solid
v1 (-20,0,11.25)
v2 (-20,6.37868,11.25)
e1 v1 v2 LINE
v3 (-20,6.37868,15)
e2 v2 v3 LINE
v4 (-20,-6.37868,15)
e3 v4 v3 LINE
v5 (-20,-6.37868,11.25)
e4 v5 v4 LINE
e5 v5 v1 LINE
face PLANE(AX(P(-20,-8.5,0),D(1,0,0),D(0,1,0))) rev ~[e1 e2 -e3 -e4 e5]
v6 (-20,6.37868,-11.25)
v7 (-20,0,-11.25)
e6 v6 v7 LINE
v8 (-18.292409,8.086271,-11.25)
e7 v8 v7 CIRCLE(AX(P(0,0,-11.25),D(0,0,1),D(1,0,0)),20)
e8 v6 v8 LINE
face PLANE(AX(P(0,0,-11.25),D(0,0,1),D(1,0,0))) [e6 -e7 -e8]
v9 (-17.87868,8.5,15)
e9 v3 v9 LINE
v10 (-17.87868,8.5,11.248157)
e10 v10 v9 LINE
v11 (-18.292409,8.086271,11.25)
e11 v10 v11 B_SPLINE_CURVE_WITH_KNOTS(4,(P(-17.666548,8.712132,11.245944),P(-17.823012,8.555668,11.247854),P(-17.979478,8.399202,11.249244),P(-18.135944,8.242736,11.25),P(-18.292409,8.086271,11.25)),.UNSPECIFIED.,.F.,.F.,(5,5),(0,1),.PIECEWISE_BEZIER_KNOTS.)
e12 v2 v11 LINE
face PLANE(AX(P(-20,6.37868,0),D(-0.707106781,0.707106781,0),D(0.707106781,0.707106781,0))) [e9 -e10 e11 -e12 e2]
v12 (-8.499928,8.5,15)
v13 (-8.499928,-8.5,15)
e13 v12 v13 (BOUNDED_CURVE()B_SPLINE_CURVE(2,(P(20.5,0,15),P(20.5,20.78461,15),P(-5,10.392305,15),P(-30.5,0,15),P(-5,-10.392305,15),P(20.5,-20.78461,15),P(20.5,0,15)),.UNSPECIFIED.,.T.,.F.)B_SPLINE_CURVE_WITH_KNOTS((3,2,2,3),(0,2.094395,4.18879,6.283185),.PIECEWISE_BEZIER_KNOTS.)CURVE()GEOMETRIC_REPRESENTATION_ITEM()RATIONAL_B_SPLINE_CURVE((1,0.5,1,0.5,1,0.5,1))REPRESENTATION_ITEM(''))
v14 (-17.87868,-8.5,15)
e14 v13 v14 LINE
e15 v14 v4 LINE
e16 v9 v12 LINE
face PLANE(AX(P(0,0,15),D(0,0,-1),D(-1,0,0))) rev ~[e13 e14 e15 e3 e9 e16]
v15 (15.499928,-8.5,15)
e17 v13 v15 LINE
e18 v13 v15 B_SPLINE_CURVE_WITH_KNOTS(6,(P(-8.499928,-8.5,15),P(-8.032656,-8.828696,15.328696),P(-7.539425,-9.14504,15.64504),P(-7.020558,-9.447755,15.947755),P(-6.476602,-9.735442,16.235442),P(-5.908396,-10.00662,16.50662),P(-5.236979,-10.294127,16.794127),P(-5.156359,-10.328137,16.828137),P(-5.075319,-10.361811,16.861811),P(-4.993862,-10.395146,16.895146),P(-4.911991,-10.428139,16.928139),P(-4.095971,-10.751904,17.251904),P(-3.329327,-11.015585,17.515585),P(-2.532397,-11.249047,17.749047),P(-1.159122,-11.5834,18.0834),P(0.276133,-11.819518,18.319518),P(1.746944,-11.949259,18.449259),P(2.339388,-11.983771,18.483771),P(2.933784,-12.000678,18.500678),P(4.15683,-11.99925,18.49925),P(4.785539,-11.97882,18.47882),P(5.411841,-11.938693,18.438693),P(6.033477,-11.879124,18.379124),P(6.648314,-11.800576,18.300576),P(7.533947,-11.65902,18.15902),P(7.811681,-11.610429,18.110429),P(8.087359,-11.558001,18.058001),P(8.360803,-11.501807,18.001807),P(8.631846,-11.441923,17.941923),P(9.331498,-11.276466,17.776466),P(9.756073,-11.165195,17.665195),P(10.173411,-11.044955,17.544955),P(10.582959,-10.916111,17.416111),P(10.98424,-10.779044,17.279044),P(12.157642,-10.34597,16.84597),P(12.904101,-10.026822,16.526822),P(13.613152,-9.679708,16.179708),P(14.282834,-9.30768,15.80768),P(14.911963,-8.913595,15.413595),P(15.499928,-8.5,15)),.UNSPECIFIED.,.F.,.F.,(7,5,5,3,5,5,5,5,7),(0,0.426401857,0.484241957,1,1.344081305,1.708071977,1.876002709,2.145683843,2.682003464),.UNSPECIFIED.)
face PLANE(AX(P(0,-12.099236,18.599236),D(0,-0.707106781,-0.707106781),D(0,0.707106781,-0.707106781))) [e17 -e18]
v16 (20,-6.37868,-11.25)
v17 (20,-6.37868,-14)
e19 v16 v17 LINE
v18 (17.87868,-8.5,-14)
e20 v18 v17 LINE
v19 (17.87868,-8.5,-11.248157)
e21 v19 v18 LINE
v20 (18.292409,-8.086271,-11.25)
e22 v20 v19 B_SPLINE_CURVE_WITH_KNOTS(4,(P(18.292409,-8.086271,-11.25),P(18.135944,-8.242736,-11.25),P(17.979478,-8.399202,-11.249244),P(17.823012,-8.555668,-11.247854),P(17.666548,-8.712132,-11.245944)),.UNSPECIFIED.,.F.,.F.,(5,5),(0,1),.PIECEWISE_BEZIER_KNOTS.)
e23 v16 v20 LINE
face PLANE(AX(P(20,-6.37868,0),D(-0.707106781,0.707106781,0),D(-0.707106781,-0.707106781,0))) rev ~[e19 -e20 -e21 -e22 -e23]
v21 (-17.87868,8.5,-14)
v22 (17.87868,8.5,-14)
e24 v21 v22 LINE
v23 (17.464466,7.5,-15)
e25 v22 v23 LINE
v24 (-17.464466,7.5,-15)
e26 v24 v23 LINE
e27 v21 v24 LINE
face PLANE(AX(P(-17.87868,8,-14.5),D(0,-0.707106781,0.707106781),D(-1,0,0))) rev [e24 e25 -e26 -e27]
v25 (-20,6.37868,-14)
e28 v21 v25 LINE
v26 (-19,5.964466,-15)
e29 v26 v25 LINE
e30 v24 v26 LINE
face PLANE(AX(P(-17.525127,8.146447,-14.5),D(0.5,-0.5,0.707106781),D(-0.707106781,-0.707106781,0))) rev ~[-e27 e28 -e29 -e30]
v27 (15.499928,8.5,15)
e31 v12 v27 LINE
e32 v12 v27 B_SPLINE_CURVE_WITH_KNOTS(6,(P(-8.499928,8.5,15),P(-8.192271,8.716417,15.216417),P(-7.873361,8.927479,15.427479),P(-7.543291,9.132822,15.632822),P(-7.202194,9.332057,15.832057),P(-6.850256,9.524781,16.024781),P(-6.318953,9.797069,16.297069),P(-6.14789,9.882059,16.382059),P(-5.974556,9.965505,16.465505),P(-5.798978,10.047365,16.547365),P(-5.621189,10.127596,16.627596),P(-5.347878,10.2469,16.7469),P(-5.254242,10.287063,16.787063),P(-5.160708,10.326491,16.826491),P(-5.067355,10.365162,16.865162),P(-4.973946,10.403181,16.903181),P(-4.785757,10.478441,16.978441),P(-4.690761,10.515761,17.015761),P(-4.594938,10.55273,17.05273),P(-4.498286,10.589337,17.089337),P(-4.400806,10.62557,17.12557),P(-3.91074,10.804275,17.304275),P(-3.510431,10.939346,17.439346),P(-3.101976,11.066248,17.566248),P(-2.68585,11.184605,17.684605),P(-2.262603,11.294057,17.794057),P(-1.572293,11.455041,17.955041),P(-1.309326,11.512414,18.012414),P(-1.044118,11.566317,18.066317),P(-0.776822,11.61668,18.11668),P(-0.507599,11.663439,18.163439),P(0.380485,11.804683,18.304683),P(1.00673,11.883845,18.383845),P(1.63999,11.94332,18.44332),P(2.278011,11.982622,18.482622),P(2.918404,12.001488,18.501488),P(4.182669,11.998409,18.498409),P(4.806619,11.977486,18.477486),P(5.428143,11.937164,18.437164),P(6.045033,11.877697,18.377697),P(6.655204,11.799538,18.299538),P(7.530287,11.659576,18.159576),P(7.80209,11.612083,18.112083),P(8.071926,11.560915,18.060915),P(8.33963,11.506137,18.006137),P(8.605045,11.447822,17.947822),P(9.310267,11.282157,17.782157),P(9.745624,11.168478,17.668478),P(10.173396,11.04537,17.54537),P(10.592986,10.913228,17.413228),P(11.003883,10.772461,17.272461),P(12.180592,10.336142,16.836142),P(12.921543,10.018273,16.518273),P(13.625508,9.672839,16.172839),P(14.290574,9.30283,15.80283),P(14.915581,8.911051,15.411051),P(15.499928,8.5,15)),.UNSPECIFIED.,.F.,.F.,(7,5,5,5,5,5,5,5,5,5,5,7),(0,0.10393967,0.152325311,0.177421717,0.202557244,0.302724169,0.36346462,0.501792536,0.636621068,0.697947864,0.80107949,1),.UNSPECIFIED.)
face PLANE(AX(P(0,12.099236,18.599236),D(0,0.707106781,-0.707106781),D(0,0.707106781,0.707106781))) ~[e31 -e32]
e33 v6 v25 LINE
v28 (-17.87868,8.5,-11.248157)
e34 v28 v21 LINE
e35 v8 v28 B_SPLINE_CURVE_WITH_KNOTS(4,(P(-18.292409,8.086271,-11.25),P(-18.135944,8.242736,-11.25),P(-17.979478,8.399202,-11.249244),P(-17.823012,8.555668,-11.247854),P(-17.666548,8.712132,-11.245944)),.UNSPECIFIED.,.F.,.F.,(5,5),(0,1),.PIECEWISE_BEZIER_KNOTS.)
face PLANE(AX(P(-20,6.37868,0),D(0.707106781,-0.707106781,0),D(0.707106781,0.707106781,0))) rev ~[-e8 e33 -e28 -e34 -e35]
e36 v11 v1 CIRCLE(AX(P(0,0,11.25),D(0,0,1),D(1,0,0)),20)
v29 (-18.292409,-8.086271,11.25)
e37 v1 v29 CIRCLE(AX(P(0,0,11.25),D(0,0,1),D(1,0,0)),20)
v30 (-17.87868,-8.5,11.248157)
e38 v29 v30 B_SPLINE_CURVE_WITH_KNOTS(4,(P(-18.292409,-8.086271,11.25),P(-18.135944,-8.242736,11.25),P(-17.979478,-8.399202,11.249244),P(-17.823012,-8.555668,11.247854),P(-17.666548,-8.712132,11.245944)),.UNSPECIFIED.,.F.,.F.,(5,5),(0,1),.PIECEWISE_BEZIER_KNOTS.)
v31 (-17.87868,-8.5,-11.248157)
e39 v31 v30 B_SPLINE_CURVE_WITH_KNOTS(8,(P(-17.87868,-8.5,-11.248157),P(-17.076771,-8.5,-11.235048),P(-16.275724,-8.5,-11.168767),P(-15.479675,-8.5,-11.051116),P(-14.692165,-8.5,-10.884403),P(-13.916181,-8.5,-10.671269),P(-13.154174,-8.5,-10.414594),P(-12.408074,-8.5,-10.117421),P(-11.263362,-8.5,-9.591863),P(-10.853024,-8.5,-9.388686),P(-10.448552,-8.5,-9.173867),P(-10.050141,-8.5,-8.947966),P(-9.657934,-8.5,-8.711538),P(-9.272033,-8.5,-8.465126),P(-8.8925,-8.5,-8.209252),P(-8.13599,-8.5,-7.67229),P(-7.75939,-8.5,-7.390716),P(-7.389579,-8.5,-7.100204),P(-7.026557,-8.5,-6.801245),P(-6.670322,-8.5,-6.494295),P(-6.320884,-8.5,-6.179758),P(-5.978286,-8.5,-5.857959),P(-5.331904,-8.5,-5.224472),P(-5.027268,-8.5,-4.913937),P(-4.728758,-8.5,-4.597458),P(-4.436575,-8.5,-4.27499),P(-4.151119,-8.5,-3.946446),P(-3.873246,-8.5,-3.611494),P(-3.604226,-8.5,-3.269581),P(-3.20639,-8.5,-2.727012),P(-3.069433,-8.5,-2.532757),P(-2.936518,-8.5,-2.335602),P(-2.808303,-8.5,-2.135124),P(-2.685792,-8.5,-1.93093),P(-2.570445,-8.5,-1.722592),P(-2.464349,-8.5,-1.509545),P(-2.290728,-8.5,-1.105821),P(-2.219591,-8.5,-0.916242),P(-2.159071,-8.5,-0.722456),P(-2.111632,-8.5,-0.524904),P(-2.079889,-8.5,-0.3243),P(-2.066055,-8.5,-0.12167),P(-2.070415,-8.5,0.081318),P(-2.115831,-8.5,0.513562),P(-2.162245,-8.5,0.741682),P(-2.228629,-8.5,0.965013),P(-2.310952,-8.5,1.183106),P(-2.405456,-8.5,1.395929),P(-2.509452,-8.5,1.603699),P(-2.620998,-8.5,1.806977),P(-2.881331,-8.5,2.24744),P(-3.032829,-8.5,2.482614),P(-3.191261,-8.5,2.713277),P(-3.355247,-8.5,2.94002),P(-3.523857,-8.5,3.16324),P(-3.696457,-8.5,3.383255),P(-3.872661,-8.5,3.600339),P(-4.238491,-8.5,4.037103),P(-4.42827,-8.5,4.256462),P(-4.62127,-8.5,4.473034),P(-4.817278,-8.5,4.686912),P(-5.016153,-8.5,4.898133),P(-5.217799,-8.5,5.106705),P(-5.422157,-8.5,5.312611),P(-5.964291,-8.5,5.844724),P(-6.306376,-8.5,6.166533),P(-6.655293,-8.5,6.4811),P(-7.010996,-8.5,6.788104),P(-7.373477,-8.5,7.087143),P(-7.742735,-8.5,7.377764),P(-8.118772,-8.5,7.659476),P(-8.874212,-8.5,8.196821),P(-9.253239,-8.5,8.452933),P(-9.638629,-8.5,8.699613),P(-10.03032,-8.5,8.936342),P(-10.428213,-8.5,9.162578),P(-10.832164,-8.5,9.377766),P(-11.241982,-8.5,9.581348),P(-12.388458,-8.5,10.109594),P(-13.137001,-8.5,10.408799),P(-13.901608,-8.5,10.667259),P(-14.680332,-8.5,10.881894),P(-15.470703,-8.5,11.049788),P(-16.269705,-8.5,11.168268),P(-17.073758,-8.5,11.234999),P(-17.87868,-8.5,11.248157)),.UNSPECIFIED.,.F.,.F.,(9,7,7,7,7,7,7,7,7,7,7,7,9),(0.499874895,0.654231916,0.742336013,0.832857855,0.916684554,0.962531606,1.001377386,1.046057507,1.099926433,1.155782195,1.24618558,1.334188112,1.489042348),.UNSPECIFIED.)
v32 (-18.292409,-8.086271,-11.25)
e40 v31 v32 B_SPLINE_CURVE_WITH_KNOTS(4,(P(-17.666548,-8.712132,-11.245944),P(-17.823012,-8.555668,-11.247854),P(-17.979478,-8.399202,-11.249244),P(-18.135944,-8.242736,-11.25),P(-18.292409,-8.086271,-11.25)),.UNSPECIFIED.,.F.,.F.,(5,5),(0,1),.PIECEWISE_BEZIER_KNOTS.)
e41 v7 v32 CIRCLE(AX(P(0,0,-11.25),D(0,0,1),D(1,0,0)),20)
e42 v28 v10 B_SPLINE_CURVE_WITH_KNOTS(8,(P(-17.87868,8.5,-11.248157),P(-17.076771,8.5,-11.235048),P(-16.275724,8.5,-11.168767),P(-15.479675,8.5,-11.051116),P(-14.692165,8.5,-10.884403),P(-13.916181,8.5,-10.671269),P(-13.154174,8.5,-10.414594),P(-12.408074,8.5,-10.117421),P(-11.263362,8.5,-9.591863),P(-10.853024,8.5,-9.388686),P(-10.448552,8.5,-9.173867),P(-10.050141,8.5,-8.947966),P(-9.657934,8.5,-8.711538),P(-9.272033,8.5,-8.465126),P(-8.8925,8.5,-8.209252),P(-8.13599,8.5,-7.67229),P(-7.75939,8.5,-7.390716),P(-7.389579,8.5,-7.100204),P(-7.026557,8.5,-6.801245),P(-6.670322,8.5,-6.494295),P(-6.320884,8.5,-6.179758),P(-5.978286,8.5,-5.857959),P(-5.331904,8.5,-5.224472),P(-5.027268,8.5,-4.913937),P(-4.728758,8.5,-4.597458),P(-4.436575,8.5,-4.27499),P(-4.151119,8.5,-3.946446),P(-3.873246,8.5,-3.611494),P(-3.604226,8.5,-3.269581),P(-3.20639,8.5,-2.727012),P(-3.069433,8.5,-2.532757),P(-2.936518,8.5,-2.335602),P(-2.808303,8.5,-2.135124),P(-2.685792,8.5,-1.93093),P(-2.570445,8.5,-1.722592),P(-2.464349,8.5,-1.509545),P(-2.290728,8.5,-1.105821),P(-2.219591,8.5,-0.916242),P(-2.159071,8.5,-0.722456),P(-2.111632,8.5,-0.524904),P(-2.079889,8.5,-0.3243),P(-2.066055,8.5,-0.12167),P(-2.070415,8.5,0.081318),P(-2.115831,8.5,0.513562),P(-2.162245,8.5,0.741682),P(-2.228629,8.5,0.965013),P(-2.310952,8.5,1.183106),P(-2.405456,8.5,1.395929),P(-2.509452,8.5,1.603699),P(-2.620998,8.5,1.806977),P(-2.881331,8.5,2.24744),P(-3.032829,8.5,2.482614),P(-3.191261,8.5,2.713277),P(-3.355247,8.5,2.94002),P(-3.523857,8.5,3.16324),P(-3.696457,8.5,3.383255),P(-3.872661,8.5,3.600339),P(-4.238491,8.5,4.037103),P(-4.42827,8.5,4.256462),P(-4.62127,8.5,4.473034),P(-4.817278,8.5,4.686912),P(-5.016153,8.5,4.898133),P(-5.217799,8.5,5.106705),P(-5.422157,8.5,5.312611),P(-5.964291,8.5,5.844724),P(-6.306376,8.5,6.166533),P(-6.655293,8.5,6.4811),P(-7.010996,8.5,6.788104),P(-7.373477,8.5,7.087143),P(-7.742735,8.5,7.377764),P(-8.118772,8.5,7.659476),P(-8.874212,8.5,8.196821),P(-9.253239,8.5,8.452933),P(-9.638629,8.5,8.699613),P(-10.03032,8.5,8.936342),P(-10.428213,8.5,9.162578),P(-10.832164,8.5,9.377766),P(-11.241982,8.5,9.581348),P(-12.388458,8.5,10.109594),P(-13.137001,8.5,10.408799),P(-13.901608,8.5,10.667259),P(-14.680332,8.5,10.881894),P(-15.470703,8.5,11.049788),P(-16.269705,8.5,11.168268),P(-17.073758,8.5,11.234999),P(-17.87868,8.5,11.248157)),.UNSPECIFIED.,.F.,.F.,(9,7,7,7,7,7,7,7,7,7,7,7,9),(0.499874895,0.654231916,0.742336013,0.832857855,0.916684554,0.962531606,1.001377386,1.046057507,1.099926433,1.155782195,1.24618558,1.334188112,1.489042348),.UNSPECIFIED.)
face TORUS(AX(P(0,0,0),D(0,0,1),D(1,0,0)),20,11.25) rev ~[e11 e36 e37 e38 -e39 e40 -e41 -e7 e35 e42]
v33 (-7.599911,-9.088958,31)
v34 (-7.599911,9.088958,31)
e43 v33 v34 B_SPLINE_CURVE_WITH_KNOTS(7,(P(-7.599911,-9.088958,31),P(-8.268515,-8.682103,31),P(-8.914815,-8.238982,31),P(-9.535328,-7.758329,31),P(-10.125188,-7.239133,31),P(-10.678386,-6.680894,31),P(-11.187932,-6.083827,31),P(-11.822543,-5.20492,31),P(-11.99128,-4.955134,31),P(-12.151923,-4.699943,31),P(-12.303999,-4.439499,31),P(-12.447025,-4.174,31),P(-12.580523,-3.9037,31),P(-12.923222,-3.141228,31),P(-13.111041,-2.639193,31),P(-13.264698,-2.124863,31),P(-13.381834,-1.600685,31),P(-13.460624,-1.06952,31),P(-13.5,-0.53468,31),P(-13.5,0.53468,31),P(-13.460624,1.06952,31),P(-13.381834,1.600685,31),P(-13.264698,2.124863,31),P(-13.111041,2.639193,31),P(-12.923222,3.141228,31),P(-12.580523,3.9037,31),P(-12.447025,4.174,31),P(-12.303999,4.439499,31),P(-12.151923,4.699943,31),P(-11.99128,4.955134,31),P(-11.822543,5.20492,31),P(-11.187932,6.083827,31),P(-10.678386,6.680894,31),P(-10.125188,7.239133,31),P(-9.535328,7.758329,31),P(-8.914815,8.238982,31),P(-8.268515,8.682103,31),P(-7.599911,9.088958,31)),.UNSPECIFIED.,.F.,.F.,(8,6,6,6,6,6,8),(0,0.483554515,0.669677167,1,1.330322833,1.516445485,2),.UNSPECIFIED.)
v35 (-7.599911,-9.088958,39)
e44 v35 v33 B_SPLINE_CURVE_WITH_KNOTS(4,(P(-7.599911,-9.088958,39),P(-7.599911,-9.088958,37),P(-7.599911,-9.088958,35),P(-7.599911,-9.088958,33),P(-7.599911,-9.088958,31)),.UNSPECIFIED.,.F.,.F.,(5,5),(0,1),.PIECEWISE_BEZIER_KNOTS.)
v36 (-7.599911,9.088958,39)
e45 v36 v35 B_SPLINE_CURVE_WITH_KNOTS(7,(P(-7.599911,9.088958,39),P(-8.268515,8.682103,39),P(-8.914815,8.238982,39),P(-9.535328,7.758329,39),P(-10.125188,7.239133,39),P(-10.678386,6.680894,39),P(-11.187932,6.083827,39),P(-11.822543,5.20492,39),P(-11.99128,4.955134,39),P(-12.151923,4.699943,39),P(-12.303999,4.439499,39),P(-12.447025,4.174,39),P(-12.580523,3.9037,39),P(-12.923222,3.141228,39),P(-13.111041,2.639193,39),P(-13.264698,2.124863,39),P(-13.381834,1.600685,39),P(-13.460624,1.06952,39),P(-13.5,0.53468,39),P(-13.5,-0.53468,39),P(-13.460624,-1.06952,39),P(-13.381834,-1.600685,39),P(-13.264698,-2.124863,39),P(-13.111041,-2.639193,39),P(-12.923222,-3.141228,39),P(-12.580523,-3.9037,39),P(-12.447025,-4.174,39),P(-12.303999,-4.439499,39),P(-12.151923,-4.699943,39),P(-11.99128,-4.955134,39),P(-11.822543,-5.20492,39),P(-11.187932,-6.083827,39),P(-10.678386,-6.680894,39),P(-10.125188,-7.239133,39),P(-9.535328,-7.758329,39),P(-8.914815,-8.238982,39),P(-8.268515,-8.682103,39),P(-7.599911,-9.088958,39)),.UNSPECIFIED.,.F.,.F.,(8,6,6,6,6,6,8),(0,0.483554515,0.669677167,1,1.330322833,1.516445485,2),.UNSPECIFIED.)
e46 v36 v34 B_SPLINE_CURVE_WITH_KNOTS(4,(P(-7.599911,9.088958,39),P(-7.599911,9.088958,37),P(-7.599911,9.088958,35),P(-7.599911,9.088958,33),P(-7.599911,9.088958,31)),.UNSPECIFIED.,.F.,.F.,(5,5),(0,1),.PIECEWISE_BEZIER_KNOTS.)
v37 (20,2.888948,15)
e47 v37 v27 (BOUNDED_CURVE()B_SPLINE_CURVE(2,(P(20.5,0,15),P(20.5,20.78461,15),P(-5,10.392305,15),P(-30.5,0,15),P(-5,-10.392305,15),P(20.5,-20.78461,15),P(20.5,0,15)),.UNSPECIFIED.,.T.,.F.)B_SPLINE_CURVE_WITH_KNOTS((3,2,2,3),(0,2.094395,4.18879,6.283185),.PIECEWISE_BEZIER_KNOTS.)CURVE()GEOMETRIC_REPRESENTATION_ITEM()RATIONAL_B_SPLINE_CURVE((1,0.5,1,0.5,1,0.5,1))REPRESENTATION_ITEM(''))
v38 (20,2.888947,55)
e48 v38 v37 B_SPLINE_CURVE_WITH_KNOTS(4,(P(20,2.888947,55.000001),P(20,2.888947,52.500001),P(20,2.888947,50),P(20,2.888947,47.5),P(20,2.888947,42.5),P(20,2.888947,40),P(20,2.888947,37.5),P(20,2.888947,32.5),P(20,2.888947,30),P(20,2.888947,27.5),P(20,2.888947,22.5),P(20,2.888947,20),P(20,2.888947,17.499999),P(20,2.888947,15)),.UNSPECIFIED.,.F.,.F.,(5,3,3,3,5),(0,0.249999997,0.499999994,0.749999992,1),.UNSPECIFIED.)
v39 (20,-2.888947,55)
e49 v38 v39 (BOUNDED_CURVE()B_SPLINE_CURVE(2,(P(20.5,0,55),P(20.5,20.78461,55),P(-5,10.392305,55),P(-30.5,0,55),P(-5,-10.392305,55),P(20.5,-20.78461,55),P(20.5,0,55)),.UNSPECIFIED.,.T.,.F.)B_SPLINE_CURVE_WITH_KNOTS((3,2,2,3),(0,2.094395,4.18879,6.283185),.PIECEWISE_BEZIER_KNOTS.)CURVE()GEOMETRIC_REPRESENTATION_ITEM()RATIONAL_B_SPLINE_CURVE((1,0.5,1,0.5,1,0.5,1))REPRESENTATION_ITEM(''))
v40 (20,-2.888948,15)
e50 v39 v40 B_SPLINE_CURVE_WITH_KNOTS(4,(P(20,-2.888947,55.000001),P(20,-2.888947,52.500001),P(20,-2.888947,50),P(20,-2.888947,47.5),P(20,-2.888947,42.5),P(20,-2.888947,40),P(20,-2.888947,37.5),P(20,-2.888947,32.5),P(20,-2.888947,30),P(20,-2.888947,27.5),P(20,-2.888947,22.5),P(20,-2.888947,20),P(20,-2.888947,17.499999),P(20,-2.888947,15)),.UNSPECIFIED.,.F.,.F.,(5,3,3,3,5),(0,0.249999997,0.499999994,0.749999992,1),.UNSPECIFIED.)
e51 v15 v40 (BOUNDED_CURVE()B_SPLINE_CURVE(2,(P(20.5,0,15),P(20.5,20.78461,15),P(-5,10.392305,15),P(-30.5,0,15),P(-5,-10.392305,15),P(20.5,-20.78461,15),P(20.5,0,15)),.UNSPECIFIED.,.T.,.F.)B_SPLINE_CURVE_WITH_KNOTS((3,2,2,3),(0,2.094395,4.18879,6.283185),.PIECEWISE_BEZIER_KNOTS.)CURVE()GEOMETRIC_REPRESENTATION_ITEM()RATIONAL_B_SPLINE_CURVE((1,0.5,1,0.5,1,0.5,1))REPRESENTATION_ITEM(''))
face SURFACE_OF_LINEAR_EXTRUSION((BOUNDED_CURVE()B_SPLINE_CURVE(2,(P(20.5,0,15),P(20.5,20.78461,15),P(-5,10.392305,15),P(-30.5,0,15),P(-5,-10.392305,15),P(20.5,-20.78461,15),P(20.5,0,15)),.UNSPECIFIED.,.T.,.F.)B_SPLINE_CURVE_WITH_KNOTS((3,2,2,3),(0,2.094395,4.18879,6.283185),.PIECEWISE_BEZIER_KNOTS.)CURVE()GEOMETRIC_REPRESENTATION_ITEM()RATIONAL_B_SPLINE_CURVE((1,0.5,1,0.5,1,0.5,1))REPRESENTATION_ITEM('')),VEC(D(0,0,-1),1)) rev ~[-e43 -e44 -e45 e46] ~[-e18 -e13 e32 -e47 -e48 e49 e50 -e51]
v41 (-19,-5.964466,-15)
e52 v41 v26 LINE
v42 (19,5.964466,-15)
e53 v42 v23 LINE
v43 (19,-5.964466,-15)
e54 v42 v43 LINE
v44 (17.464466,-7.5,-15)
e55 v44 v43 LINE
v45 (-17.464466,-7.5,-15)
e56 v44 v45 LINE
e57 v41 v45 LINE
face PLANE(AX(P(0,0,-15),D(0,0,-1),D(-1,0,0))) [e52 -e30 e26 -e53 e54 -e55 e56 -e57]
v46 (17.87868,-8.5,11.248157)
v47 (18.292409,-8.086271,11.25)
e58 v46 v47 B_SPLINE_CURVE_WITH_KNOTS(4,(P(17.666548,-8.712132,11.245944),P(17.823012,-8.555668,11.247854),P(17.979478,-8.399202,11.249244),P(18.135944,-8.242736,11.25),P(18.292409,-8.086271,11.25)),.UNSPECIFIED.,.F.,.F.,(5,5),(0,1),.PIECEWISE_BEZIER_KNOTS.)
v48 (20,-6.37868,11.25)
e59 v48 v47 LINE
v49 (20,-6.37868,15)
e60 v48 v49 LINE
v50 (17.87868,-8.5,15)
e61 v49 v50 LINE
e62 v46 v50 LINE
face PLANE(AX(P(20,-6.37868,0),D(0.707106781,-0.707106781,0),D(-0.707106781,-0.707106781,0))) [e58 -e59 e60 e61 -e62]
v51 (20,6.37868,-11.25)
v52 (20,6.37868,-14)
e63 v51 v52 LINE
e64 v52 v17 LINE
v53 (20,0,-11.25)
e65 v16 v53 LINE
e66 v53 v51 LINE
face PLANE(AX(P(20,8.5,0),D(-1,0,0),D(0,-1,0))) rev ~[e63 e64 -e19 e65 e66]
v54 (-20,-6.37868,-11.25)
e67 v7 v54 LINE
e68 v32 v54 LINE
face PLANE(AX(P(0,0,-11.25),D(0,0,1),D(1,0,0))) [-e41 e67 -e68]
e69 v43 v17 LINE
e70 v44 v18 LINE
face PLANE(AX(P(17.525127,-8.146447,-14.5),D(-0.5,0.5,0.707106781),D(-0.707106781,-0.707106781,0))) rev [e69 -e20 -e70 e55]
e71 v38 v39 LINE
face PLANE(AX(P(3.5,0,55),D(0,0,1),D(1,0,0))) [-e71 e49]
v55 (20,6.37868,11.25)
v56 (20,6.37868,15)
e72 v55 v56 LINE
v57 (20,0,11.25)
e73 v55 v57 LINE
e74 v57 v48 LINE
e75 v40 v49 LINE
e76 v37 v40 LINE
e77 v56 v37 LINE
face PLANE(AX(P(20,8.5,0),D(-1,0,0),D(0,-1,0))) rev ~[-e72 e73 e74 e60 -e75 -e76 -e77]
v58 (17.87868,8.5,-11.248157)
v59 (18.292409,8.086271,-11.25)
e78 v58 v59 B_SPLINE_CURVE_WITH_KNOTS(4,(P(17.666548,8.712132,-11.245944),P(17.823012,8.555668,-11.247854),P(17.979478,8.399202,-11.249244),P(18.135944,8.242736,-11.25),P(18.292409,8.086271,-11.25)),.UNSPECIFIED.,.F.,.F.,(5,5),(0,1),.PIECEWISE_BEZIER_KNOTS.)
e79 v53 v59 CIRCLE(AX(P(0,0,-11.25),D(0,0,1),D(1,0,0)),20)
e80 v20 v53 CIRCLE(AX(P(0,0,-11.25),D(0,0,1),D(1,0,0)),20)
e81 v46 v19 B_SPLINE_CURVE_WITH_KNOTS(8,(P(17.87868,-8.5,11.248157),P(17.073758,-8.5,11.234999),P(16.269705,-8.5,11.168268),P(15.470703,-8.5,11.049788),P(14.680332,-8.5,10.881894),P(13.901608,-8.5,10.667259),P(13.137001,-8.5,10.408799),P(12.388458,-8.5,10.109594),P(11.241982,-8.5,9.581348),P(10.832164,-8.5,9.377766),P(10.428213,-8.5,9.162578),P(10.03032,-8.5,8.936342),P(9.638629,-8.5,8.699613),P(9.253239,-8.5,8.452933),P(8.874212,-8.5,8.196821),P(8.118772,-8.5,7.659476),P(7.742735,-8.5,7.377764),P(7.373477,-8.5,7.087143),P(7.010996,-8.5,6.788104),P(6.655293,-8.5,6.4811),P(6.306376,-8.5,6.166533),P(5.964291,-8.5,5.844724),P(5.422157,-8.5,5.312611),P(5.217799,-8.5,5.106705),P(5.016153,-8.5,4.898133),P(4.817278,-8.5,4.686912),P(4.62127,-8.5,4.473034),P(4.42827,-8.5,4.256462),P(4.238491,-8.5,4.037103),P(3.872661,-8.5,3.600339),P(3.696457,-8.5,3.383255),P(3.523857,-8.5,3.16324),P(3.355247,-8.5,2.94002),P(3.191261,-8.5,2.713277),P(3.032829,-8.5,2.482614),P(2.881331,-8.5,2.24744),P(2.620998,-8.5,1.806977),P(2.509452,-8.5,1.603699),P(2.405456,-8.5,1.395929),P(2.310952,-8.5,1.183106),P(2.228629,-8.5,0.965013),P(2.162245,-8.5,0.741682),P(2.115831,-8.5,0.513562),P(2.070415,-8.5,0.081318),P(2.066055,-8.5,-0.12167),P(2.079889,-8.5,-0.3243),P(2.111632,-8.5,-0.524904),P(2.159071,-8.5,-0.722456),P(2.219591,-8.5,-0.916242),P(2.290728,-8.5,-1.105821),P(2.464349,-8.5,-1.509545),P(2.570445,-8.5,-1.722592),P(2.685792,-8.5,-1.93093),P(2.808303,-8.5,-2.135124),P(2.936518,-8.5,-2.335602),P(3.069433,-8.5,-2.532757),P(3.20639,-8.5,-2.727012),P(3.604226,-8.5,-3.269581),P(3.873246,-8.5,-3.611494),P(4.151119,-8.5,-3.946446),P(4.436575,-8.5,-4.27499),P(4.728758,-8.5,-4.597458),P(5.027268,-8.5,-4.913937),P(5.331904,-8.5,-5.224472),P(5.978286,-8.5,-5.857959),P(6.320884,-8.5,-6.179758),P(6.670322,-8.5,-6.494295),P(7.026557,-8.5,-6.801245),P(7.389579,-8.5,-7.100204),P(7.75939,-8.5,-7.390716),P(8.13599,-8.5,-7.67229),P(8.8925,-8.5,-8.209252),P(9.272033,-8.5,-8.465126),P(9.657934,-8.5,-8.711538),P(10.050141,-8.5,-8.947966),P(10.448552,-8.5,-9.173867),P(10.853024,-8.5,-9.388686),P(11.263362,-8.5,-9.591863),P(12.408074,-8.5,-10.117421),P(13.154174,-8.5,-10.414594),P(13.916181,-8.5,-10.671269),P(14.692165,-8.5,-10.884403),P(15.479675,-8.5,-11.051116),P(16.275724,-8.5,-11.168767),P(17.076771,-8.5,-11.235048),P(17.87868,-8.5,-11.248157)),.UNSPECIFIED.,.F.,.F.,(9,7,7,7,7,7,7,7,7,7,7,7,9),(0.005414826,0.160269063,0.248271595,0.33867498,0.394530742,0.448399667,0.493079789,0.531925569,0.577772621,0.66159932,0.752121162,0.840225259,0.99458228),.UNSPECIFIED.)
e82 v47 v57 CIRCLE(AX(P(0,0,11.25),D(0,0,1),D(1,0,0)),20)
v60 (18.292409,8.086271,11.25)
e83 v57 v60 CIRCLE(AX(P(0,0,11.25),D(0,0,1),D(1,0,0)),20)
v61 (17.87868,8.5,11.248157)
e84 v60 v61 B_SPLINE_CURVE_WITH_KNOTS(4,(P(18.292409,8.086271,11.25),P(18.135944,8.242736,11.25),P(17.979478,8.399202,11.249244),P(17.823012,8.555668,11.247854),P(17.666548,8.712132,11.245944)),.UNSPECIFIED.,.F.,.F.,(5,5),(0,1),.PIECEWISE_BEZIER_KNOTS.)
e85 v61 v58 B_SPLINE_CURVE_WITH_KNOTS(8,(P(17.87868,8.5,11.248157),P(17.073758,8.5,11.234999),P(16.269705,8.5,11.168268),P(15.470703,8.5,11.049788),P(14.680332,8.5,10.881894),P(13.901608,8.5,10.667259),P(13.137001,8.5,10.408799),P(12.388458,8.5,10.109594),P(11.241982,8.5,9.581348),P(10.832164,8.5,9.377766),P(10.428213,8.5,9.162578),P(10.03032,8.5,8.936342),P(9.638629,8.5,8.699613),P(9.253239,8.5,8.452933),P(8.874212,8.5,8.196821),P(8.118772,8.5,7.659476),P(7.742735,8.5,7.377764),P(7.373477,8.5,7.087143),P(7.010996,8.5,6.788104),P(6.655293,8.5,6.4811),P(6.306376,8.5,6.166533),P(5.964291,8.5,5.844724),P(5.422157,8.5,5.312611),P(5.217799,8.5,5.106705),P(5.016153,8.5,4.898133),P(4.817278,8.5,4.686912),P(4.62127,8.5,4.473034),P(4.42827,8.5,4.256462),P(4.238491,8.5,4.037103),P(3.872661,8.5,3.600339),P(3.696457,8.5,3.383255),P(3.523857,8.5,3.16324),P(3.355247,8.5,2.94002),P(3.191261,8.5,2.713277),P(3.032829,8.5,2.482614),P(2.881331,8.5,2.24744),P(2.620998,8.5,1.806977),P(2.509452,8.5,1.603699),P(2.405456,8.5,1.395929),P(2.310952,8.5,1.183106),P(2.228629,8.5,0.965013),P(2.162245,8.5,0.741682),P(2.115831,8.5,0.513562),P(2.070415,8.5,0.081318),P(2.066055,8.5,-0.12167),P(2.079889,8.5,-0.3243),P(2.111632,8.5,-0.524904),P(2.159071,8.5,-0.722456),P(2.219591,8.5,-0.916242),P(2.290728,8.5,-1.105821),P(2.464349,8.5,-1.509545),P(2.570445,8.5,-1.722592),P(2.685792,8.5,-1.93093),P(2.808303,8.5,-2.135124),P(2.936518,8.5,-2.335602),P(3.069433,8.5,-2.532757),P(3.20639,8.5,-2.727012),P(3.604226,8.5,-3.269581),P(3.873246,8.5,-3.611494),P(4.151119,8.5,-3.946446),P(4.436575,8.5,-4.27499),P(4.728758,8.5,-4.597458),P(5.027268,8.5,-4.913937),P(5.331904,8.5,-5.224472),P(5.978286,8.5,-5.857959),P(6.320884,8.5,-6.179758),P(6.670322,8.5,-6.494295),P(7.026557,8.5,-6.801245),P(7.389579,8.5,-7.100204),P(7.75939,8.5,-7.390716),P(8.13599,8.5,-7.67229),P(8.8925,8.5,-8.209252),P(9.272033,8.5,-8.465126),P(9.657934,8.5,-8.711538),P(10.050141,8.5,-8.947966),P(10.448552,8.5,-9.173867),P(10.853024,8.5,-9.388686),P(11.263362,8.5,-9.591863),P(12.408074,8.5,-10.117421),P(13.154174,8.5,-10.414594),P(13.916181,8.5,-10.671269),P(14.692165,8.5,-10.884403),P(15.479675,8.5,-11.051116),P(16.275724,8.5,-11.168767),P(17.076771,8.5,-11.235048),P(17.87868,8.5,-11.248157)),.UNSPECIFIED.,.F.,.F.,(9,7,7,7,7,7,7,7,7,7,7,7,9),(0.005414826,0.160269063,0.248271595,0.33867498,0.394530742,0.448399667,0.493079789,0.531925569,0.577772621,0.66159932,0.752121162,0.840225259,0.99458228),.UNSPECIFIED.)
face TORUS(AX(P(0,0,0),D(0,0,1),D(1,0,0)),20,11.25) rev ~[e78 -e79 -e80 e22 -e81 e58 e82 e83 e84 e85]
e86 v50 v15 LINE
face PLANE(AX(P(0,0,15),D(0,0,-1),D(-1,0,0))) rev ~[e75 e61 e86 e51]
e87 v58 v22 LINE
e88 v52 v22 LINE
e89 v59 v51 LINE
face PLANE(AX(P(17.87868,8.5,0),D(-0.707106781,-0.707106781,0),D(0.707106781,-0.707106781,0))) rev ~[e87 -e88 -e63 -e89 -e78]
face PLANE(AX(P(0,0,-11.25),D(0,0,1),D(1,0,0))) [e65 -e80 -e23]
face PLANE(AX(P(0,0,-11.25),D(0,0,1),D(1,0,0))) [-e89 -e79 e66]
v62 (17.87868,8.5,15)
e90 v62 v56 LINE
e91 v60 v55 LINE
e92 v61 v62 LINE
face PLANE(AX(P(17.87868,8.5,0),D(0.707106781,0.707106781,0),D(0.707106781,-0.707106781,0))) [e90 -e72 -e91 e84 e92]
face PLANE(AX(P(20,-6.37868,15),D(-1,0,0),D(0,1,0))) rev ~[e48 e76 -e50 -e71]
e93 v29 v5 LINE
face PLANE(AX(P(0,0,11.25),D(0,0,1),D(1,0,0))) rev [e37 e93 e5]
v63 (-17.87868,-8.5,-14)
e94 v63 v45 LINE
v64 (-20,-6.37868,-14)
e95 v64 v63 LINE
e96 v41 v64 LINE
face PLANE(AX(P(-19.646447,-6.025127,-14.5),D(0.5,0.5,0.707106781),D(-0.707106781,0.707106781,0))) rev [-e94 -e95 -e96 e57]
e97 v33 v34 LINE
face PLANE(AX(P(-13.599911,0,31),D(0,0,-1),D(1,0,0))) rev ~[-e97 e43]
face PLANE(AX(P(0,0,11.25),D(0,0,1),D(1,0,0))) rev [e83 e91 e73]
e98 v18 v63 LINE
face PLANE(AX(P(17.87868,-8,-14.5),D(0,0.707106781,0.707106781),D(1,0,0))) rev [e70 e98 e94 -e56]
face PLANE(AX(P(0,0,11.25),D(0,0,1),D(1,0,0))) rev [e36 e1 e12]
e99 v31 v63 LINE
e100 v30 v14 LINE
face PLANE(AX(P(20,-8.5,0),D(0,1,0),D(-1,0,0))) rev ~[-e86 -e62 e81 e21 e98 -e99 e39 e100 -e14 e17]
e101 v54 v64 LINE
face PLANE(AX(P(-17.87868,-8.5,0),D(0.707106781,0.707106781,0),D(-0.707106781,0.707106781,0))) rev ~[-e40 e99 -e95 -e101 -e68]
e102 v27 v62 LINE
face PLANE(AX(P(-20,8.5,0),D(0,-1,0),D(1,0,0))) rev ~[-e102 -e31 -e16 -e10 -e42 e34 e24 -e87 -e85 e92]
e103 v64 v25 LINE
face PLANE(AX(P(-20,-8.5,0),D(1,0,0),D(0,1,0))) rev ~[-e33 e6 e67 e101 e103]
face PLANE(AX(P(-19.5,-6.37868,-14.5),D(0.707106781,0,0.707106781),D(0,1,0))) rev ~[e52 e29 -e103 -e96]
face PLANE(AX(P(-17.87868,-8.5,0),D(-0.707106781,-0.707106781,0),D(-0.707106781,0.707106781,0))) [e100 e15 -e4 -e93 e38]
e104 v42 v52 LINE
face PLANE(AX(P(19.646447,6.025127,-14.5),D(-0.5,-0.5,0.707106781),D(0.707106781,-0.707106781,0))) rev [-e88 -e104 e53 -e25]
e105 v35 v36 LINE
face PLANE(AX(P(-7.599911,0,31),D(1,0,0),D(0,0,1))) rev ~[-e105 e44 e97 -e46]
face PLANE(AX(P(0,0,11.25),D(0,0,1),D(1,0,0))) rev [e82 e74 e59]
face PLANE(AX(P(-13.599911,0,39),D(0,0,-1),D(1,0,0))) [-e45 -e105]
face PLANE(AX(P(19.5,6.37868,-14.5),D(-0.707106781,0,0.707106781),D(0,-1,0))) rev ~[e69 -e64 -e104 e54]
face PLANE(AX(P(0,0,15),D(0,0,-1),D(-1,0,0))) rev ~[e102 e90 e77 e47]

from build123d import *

# Parameters (mm, degrees)
PAD_DEPTH            = 15
SKETCH002_W          = 71.950028
SKETCH002_H          = 37.97071
POCKET_DEPTH         = 15.001
POCKET_DEPTH_BACK    = 15.001
PAD001_DEPTH         = 40
SKETCH004_W          = 12.757359
SKETCH004_H          = 12.75736
POCKET001_DEPTH      = 40.001
SKETCH005_W          = 6
SKETCH005_H          = 8
POCKET002_DEPTH      = 12.001
POCKET002_DEPTH_BACK = 12.001
POCKET003_DEPTH      = 188.238927
POCKET003_DEPTH_BACK = 188.238927
CHAMFER_SIZE         = 1


with BuildPart() as part:
    # Sketch → Pad (new body, symmetric)
    with BuildSketch(Plane.XY):
        Polygon((-20, 8.5), (20, 8.5), (20, 8.5), (20, -8.5), (-20, -8.5), align=None)
    extrude(amount=PAD_DEPTH, both=True)

    # Sketch001 → Groove (revolve, cut)
    with BuildSketch(Plane.XZ):
        with BuildLine():
            ThreePointArc((20, 11.25), (8.75, 0), (20, -11.25))
            Line((42.5, -11.25), (20, -11.25))
            Line((42.5, 11.25), (42.5, -11.25))
            Line((20, 11.25), (42.5, 11.25))
        make_face()
    revolve(axis=Axis((0, 0, 0), (0, 0, 1)), mode=Mode.SUBTRACT)

    # Sketch002 → Pocket (cut, two sides)
    with BuildSketch(Plane.XY) as pocket_sk:
        Rectangle(SKETCH002_W, SKETCH002_H)
        Polygon((-20, 6.37868), (-17.87868, 8.5), (17.87868, 8.5), (20, 6.37868), (20, -6.37868), (17.87868, -8.5), (-17.87868, -8.5), (-20, -6.37868), align=None, mode=Mode.SUBTRACT)
    extrude(amount=-POCKET_DEPTH, mode=Mode.SUBTRACT)
    extrude(pocket_sk.sketch, amount=POCKET_DEPTH_BACK, mode=Mode.SUBTRACT)

    # Sketch003 (on Face6 of Pocket) → Pad001 (join)
    with BuildSketch(Plane.XY.offset(15)):
        with BuildLine():
            add(Edge.make_bspline(
                [(20.5, 0), (20.5, 20.78461), (-5, 10.392305), (-30.5, 0), (-5, -10.392305), (20.5, -20.78461), (20.5, 0)],
                knots=[0, 0, 0, 2.094395, 2.094395, 4.18879, 4.18879, 6.283185, 6.283185, 6.283185], degree=2, weights=[1, 0.5, 1, 0.5, 1, 0.5, 1]))
        make_face()
    extrude(amount=PAD001_DEPTH)

    # Sketch004 (on Edge33 of Pad001) → Pocket001 (cut, through all)
    with BuildSketch(Plane.XY.offset(15)):
        with Locations((26.37868, 0)):
            Rectangle(SKETCH004_W, SKETCH004_H)
    extrude(amount=POCKET001_DEPTH, mode=Mode.SUBTRACT)

    # Sketch005 → Pocket002 (cut, two sides)
    with BuildSketch(Plane.XZ) as pocket002_sk:
        with Locations((-10.599911, 35)):
            Rectangle(SKETCH005_W, SKETCH005_H)
    extrude(amount=-POCKET002_DEPTH, mode=Mode.SUBTRACT)
    extrude(pocket002_sk.sketch, amount=POCKET002_DEPTH_BACK, mode=Mode.SUBTRACT)

    # Sketch006 → Pocket003 (cut, two sides)
    with BuildSketch(Plane.YZ) as pocket003_sk:
        Polygon((-12.099236, 18.599236), (-8.5, 15), (-12.099236, 15), align=None)
    pocket003 = extrude(amount=-POCKET003_DEPTH, mode=Mode.SUBTRACT) + extrude(pocket003_sk.sketch, amount=POCKET003_DEPTH_BACK, mode=Mode.SUBTRACT)

    # Mirrored: Pocket003 across Sketch006 V_Axis
    add(pocket003.mirror(Plane(origin=(0, 0, 0), x_dir=(1, 0, 0), z_dir=(0, 1, 0))), mode=Mode.SUBTRACT)

    # Chamfer
    chamfer_edges = [part.edges().sort_by_distance(p)[0] for p in [
        (0, 8.5, -15),
        (18.93934, 7.43934, -15),
        (20, 0, -15),
        (18.93934, -7.43934, -15),
        (0, -8.5, -15),
        (-18.93934, -7.43934, -15),
        (-20, 0, -15),
        (-18.93934, 7.43934, -15),
    ]]
    chamfer(chamfer_edges, length=CHAMFER_SIZE)


solid = part.part
